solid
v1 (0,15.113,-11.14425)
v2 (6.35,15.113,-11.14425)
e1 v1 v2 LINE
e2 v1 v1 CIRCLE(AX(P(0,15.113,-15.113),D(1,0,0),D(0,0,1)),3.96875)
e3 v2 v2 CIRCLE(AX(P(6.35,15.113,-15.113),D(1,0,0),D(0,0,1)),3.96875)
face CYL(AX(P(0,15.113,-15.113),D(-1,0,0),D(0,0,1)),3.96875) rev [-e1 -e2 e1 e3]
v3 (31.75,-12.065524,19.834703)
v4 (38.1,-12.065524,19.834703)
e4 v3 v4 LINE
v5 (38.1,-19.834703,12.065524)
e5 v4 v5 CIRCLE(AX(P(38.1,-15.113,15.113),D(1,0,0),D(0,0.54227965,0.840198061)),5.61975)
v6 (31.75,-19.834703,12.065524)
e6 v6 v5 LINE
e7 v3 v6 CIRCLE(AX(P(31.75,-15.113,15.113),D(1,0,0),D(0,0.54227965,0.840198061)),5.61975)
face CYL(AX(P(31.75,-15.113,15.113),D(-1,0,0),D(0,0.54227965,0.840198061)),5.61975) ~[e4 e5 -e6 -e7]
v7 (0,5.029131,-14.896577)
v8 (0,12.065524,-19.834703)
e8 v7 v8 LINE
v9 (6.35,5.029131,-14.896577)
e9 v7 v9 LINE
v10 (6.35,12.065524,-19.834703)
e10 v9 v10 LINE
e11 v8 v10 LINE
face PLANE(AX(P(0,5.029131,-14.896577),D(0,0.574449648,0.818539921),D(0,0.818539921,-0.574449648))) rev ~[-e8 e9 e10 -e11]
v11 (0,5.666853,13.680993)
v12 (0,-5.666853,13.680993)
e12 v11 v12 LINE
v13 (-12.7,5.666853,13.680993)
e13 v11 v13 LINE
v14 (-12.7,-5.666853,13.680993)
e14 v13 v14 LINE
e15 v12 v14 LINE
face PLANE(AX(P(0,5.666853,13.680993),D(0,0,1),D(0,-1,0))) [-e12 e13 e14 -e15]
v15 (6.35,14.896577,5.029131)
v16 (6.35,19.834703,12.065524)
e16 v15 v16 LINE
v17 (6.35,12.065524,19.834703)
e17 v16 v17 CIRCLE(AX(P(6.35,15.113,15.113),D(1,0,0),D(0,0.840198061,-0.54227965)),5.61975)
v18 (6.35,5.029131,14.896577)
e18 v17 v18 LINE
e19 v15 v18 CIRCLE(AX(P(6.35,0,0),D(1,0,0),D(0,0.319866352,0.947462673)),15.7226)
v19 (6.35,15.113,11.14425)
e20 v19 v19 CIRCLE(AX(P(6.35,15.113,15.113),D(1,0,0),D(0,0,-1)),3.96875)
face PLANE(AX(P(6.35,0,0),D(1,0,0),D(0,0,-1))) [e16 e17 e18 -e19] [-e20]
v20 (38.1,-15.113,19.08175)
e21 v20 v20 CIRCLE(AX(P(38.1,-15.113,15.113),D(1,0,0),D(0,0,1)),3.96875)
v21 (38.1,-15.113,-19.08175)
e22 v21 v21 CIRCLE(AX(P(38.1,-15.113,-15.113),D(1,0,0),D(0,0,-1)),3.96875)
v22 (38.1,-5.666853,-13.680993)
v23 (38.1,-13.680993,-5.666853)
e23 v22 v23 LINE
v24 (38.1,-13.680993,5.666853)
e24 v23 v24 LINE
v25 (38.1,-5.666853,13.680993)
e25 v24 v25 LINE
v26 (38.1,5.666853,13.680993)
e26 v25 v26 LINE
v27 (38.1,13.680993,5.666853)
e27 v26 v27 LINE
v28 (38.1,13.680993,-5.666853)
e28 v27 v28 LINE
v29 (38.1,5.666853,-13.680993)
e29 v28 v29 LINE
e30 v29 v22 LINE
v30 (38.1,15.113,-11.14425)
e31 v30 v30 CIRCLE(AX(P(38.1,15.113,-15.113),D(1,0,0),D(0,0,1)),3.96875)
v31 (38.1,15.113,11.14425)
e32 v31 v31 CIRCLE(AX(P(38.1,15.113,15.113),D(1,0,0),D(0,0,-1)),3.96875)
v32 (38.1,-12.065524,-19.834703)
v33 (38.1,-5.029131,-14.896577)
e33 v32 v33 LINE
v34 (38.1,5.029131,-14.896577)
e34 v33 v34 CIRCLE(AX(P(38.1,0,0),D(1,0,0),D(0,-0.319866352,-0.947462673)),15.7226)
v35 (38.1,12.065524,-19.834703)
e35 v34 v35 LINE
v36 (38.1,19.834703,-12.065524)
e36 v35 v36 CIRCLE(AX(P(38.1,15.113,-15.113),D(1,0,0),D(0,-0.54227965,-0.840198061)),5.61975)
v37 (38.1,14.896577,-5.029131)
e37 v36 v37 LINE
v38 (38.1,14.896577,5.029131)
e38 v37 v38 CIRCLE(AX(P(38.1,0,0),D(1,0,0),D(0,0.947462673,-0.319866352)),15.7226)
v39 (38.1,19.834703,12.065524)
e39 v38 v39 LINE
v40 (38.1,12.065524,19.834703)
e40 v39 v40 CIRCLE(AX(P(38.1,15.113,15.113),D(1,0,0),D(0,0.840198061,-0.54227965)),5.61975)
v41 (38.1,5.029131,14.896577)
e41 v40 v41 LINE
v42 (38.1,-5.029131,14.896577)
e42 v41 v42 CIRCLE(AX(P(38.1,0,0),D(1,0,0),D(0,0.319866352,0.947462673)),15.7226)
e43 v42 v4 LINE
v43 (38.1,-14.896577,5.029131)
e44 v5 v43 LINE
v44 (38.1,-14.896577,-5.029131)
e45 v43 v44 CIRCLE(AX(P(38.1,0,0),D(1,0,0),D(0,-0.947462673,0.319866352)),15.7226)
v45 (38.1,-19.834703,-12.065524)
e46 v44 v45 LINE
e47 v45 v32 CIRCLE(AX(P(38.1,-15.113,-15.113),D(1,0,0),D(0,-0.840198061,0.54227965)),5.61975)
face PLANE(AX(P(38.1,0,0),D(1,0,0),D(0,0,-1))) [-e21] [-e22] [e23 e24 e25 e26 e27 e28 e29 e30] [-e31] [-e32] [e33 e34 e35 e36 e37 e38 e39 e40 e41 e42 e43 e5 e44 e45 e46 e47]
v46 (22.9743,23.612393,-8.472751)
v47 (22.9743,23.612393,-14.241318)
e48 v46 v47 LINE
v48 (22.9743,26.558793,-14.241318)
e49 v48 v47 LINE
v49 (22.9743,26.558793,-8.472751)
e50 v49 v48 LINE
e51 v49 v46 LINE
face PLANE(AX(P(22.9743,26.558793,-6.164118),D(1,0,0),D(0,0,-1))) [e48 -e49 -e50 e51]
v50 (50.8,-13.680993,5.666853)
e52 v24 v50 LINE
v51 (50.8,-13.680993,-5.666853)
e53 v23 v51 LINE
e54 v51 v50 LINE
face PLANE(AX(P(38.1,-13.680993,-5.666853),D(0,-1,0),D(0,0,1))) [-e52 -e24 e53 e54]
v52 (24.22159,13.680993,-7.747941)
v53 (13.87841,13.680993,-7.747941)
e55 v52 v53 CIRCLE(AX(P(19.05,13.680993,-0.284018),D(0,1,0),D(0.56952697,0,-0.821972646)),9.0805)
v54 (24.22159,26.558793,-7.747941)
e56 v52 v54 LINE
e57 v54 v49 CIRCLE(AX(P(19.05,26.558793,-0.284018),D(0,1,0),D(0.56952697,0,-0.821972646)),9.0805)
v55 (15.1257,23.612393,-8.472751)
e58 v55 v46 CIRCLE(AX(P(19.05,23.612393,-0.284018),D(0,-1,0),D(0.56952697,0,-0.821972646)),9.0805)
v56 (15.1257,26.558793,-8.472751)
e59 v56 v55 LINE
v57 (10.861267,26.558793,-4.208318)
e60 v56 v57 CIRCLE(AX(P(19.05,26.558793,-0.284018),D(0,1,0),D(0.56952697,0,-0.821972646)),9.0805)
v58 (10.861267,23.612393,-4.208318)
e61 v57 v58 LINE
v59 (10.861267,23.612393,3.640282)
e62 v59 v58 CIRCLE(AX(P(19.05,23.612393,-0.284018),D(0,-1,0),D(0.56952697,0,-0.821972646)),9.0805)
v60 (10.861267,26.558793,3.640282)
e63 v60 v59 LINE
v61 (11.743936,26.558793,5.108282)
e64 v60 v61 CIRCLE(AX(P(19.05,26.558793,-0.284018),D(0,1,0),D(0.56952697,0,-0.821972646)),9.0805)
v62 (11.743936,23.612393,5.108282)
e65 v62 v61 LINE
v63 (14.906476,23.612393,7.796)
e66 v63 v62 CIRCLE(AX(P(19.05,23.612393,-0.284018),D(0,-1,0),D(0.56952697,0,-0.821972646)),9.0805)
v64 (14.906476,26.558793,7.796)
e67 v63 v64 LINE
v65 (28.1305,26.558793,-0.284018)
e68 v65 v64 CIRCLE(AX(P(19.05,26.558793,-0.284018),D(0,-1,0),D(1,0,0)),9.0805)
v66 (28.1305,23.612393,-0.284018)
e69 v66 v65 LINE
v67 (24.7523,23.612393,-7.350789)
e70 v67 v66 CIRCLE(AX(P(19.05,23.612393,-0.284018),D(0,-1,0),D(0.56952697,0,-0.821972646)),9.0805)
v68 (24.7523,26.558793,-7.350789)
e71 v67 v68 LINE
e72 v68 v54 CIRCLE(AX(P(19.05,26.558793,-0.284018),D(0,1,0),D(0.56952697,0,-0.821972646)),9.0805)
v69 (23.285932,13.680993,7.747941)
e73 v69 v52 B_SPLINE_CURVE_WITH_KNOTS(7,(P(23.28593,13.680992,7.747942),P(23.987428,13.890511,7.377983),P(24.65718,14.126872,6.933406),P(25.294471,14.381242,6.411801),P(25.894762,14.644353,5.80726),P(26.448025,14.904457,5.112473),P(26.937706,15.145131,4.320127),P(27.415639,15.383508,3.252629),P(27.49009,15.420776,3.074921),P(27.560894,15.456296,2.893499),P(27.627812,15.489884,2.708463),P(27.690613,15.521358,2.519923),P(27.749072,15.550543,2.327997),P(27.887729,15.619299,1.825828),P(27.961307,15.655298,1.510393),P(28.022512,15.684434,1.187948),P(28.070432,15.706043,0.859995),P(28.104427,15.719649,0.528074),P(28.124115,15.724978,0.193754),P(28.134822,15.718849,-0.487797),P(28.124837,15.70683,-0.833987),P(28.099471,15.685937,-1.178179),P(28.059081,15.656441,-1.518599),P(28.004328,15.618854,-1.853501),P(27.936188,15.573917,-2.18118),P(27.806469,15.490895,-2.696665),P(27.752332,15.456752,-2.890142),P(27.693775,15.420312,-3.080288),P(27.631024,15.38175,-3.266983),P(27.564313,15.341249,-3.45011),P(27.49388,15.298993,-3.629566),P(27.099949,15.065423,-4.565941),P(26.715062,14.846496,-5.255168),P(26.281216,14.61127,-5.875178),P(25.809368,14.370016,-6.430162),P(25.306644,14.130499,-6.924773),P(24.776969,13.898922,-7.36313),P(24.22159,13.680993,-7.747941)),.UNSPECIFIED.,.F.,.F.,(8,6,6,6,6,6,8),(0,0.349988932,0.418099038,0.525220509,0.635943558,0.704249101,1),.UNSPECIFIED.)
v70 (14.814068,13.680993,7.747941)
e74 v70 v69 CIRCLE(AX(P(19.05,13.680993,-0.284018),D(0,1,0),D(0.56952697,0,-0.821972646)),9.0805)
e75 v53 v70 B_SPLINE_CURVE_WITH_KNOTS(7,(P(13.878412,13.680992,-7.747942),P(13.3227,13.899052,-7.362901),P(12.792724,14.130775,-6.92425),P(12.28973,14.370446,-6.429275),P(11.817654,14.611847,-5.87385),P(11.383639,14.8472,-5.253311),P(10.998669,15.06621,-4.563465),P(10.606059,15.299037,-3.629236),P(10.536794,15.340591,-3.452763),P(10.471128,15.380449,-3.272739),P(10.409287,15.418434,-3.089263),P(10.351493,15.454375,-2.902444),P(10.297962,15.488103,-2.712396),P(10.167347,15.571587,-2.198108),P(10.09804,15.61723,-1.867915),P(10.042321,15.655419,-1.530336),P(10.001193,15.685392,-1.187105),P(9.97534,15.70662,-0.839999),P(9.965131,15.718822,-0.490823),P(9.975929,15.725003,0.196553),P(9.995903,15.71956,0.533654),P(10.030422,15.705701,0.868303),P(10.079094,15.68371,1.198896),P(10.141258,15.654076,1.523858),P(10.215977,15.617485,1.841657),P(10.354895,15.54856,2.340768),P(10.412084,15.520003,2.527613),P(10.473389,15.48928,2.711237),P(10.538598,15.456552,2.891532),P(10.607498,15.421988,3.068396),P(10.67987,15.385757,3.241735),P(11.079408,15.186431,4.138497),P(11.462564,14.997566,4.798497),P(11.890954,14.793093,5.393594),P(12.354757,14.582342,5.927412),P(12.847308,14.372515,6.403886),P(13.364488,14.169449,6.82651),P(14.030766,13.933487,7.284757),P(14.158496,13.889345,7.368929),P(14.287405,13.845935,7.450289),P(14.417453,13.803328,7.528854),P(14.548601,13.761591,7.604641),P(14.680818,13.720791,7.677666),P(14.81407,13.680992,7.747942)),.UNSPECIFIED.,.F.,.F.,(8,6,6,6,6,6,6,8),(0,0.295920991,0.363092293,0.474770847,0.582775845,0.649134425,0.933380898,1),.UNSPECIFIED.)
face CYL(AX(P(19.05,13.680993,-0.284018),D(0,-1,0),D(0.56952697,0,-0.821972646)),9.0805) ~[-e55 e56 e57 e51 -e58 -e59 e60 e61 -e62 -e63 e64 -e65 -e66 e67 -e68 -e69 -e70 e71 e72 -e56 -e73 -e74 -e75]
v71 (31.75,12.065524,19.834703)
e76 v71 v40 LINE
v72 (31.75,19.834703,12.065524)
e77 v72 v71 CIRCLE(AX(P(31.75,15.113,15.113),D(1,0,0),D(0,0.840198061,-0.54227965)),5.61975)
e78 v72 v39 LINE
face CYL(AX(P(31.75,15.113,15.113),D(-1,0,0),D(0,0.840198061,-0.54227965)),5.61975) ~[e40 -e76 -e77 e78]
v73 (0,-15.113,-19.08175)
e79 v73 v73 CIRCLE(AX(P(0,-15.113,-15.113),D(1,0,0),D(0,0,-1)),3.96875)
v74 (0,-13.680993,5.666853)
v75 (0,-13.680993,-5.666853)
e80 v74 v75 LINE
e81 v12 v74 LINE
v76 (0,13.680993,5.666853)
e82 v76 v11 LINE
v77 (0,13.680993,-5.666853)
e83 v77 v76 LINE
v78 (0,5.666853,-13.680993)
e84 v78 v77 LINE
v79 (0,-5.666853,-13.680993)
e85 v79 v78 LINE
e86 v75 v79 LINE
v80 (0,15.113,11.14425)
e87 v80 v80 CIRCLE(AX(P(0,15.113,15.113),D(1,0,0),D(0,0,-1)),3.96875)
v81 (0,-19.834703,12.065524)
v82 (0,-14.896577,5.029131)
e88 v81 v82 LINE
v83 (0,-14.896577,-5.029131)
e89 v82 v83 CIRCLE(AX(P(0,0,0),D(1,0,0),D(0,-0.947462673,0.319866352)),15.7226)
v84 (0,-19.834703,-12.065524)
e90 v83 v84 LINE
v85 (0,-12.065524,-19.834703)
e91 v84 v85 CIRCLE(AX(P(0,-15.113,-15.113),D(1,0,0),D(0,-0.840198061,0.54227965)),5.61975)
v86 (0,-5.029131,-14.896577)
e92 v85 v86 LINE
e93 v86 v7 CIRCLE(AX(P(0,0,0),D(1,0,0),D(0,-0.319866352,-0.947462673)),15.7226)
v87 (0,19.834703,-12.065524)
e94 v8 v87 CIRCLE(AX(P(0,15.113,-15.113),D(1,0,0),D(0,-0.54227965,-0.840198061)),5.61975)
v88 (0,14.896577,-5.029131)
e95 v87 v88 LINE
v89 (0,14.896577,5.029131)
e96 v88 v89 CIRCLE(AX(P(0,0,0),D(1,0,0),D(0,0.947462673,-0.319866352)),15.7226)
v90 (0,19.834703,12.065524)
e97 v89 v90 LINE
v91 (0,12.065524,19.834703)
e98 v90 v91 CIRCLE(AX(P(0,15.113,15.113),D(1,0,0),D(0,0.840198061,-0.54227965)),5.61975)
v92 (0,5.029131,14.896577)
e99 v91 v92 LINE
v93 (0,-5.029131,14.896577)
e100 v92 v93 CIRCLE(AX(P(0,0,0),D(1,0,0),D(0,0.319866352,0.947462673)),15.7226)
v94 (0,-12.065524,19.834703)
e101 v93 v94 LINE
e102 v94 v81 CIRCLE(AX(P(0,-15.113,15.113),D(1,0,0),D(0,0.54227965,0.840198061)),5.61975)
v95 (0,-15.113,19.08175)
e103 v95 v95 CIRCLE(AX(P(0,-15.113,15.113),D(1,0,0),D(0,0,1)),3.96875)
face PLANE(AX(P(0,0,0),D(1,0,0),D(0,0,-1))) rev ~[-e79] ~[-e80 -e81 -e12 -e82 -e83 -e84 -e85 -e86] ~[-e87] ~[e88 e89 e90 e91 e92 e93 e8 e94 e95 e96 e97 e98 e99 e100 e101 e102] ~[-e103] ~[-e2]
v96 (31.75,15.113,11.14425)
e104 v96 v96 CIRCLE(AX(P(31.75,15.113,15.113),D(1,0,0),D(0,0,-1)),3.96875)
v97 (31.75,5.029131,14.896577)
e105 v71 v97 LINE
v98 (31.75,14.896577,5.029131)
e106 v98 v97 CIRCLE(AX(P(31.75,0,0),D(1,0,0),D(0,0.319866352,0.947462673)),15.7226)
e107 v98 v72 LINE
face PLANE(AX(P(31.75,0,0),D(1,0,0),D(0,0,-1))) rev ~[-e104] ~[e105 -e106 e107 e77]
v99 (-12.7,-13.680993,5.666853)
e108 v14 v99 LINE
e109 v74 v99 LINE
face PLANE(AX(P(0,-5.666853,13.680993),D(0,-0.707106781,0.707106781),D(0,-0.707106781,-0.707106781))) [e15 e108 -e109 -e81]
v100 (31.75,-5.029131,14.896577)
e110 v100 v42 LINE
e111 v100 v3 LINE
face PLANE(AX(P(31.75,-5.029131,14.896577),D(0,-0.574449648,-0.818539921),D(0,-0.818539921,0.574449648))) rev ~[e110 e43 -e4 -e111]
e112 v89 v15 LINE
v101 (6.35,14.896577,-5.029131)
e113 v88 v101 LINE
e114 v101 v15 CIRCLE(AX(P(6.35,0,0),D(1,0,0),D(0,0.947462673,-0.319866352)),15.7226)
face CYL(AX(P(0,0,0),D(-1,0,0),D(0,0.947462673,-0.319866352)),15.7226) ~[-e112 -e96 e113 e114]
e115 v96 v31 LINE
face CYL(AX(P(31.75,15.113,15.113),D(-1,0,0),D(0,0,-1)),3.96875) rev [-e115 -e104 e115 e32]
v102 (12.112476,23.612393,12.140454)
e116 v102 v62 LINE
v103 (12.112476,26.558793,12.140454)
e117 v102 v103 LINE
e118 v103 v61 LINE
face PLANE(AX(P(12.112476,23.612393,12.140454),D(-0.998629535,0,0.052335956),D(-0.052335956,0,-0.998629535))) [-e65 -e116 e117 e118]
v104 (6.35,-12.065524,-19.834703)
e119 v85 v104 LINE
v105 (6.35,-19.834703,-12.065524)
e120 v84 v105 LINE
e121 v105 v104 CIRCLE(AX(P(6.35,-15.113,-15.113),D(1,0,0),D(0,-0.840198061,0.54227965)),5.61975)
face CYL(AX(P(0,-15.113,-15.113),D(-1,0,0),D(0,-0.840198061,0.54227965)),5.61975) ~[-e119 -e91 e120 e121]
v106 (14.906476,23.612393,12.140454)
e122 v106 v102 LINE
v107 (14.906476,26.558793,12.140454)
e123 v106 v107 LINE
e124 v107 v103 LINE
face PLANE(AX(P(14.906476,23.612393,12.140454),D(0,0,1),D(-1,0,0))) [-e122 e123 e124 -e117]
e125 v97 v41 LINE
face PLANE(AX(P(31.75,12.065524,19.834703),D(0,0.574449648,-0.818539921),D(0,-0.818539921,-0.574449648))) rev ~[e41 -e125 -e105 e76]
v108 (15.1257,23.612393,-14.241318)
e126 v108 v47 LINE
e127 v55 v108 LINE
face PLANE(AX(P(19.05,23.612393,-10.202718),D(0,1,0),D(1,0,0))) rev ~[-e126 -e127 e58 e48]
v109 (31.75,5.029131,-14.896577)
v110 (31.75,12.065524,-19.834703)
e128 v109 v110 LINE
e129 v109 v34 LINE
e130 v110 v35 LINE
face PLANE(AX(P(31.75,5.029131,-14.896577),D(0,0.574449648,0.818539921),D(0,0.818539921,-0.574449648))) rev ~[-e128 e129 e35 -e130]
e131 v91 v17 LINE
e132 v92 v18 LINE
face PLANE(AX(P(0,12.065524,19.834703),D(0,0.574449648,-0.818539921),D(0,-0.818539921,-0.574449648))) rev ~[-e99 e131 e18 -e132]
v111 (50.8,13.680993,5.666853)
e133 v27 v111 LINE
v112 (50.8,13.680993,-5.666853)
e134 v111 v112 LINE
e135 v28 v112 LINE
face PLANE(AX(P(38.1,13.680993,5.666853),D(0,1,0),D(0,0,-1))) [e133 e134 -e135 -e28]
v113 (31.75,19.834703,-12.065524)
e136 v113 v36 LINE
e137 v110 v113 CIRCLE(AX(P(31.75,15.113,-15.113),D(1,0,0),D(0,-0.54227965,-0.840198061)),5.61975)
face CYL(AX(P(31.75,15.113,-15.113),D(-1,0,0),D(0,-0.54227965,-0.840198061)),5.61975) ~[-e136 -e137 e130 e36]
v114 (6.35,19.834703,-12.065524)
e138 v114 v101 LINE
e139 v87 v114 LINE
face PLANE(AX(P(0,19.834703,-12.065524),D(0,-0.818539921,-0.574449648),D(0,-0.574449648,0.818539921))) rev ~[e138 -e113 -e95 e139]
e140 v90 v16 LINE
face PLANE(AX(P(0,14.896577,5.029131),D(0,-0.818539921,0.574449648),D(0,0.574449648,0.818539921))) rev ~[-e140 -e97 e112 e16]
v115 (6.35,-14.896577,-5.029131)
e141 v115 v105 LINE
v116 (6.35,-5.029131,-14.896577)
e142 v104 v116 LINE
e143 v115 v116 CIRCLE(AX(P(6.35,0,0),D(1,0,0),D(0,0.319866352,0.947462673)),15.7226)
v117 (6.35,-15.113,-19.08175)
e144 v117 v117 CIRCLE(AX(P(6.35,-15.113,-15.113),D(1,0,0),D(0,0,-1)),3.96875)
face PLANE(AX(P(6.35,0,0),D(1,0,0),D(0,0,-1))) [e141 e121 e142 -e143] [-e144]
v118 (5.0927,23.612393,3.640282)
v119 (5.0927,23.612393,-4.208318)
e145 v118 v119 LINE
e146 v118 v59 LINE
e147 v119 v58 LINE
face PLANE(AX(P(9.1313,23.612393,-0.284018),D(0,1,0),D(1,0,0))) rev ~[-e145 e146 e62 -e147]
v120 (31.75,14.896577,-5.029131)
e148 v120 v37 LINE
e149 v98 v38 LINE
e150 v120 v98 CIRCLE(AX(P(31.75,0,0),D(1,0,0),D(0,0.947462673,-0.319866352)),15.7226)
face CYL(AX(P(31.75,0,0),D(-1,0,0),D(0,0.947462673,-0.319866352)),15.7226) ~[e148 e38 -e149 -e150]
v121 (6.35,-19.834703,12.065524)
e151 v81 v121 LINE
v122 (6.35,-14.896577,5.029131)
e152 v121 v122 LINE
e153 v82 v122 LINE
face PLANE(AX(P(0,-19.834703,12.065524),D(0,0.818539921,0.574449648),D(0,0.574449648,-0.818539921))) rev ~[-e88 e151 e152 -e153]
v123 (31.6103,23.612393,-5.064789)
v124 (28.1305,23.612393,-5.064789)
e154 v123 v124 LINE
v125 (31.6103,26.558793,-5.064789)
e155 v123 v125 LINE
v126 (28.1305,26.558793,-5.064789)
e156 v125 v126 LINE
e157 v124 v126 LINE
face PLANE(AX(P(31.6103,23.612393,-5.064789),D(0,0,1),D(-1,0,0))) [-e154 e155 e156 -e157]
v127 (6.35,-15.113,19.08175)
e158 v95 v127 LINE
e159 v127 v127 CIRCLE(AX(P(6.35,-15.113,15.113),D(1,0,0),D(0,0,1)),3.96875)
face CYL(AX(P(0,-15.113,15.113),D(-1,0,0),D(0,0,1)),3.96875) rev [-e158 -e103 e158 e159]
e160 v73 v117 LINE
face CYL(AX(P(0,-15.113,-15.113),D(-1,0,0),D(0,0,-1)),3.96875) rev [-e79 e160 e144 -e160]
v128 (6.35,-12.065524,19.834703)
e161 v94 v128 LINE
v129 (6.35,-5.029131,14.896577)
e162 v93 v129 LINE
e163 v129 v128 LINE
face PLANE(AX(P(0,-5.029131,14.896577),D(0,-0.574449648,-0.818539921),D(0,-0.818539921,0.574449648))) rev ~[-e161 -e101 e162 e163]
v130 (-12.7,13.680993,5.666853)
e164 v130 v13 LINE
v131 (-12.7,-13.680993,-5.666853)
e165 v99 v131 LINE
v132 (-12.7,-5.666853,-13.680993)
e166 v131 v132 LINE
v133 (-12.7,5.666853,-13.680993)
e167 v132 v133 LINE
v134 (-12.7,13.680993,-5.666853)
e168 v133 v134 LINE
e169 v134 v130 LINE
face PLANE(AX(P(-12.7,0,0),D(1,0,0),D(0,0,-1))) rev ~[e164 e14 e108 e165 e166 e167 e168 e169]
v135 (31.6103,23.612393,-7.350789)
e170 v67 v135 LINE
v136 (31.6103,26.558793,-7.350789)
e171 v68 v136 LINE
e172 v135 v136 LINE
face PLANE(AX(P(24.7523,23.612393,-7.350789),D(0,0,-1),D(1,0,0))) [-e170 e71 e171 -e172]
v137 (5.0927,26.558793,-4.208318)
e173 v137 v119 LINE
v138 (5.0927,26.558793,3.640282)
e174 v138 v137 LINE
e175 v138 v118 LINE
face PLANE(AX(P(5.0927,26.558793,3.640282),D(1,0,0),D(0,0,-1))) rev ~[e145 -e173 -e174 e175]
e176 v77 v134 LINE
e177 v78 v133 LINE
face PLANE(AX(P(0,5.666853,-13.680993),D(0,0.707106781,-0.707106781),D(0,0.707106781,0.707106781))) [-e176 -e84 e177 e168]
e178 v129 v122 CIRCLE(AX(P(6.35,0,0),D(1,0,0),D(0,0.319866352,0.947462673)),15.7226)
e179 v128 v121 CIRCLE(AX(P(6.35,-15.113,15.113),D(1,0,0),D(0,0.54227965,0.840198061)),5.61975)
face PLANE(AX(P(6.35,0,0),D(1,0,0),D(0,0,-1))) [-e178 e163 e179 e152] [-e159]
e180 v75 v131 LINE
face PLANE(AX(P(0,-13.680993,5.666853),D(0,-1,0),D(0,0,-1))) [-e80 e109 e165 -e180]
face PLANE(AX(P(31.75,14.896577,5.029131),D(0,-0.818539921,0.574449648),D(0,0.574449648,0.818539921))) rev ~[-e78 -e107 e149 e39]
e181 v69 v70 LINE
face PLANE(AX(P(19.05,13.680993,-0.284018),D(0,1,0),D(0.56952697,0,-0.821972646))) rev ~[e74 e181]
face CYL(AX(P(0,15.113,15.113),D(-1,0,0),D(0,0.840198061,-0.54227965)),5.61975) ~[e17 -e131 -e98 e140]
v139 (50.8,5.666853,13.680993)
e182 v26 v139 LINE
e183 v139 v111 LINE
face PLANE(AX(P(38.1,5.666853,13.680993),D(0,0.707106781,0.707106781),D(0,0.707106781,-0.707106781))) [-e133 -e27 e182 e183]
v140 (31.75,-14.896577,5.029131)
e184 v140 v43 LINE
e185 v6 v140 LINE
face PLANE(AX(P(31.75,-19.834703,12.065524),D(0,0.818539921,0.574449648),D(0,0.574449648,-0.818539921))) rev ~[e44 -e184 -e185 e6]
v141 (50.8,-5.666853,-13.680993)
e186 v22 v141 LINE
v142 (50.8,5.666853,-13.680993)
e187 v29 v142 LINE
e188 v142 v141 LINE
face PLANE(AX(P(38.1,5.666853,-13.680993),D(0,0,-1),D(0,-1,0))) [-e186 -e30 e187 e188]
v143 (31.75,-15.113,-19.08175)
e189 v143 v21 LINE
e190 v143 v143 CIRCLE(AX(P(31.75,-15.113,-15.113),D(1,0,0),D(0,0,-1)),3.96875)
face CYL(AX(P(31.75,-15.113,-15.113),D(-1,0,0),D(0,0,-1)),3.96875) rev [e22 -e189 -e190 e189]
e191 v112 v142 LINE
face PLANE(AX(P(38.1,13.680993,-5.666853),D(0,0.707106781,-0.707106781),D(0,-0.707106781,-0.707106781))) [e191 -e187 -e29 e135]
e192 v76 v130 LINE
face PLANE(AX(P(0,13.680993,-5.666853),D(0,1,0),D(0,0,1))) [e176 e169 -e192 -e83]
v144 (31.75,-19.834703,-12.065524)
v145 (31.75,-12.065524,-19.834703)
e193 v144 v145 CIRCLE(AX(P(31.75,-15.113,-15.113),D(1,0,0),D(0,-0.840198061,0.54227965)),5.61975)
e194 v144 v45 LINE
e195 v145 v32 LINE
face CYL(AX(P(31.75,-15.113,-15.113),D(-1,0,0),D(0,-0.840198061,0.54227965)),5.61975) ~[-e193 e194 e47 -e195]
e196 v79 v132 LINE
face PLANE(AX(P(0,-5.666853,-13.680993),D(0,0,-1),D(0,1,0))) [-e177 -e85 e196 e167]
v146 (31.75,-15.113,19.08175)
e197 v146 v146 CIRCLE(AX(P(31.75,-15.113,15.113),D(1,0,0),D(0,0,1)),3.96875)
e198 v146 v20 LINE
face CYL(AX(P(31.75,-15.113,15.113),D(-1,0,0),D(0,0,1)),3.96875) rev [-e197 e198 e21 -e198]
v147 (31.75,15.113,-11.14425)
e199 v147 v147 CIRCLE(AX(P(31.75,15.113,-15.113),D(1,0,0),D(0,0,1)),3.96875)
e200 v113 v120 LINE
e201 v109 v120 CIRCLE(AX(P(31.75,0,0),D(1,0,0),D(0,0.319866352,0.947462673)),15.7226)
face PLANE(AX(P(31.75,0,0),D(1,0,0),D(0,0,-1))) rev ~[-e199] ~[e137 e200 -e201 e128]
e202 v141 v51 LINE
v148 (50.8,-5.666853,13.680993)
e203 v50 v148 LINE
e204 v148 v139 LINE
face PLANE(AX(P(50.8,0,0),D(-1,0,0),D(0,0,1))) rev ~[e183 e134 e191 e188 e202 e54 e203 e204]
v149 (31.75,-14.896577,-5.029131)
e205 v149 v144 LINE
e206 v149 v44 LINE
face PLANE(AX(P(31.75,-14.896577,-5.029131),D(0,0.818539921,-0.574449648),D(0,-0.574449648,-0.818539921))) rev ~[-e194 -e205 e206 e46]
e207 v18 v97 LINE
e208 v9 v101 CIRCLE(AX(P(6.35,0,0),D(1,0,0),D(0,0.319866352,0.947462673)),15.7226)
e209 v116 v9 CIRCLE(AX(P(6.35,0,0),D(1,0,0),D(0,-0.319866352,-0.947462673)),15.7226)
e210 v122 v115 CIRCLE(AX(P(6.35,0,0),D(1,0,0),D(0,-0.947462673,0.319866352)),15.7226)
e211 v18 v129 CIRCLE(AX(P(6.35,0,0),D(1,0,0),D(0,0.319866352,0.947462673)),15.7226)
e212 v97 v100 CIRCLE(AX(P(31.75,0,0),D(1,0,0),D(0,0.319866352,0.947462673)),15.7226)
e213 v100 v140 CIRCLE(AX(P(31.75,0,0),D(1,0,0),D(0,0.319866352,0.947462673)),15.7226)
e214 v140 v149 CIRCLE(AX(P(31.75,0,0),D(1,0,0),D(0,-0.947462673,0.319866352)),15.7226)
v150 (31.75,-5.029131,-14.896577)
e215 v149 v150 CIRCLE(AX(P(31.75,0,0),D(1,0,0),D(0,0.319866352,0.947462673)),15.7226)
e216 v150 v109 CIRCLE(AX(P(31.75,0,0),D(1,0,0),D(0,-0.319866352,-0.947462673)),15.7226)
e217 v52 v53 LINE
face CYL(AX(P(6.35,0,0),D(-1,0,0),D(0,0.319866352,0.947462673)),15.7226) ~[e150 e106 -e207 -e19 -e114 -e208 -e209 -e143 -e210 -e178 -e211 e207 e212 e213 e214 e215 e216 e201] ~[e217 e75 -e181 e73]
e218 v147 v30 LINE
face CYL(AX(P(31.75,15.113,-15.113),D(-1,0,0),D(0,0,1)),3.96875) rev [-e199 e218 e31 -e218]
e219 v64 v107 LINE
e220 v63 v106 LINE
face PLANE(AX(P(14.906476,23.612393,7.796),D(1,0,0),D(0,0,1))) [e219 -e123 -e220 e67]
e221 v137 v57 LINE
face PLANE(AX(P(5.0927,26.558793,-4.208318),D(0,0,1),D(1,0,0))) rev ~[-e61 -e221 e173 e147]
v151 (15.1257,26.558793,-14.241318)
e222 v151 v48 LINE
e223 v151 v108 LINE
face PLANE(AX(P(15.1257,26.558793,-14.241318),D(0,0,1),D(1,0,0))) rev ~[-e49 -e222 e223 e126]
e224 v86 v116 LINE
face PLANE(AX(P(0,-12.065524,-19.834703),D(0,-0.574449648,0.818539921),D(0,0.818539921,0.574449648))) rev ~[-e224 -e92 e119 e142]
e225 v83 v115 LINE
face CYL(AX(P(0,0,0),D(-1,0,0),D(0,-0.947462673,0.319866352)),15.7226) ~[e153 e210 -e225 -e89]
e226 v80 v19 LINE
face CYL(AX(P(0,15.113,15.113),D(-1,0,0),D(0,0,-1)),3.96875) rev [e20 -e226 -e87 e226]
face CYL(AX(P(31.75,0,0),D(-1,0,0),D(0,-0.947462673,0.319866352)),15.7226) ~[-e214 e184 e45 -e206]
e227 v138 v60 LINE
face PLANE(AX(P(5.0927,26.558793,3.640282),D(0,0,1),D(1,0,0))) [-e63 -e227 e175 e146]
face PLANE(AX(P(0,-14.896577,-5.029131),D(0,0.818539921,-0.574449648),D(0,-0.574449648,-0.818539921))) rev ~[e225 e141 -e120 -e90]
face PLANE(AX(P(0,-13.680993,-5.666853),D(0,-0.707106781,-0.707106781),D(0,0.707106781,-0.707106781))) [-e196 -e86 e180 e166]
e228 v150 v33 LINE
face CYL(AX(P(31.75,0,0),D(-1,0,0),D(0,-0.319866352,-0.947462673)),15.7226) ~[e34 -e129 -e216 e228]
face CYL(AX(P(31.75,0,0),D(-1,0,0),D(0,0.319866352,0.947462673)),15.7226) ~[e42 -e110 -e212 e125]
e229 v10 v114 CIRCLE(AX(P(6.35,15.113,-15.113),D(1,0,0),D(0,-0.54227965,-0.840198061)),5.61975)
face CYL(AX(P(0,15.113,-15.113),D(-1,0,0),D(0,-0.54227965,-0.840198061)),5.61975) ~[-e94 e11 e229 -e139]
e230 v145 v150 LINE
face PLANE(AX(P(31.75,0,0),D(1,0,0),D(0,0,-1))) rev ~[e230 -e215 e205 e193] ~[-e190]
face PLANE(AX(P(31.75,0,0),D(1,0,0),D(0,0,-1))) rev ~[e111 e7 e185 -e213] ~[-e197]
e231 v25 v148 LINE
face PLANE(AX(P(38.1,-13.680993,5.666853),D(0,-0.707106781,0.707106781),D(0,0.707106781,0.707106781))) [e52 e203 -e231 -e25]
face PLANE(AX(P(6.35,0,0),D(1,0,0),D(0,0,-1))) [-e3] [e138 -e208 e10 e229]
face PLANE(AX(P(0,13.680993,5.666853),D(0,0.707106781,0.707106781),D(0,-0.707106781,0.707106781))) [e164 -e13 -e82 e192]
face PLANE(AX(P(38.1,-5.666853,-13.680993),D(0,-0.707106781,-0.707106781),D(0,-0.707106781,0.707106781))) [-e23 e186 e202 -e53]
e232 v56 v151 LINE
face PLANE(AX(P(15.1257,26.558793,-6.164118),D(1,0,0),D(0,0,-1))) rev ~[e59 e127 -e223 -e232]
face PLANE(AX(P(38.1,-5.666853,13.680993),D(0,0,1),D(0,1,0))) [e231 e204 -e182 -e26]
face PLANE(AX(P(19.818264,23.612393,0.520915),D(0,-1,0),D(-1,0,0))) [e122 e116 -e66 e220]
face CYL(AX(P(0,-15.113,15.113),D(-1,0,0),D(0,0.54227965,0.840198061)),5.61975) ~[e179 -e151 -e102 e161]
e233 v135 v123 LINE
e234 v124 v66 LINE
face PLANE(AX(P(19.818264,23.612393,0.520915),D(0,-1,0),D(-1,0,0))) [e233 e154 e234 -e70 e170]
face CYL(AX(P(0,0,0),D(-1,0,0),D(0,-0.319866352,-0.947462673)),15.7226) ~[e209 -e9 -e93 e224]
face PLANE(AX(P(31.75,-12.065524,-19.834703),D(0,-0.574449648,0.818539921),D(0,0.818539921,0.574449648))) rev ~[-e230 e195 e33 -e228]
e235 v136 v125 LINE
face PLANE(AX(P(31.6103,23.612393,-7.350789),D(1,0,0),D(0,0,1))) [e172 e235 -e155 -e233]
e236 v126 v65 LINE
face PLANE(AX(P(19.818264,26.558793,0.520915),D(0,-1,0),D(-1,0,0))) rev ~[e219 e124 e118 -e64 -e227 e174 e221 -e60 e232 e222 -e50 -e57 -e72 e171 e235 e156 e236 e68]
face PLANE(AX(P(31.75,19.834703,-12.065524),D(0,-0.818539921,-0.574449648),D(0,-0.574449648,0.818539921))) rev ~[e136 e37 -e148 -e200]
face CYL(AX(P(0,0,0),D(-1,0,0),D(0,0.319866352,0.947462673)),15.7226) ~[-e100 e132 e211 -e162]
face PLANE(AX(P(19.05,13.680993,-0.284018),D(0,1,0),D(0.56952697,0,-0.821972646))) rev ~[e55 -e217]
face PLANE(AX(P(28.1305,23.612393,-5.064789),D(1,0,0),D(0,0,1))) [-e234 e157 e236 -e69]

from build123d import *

# Parameters (mm, degrees)
SKETCH1_R            = 3.96875
BOSS_EXTRUDE2_DEPTH  = 6.35
BOSS_EXTRUDE3_DEPTH  = 12.7
SKETCH3_R            = 15.7226
BOSS_EXTRUDE4_DEPTH  = 25.4
SKETCH4_R            = 3.96875
BOSS_EXTRUDE5_DEPTH  = 6.35
BOSS_EXTRUDE6_DEPTH  = 12.7
SKETCH6_R            = 9.0805
BOSS_EXTRUDE8_DEPTH  = 12.8778
SKETCH8_W            = 7.8486
SKETCH8_H            = 8.0772
SKETCH8_W_2          = 8.0772
SKETCH8_H_2          = 7.8486
BOSS_EXTRUDE9_DEPTH  = 2.9464
BOSS_EXTRUDE10_START = -2.9464
BOSS_EXTRUDE10_DEPTH = 2.9464


with BuildPart() as part:
    # Sketch1 → Boss-Extrude2 (new body)
    with BuildSketch(Plane(origin=(0, 0, 0), x_dir=(0, 0, -1), z_dir=(1, 0, 0))):
        with BuildLine():
            Line((-19.834703053, 12.065523939), (-14.896576623, 5.029130709))
            ThreePointArc((-14.896576623, 5.029130709), (-15.7226, 0), (-14.896576623, -5.029130709))
            Line((-14.896576623, -5.029130709), (-19.834703053, -12.065523939))
            ThreePointArc((-19.834703053, -12.065523939), (-19.086763334, -19.086763334), (-12.065523939, -19.834703053))
            Line((-12.065523939, -19.834703053), (-5.029130709, -14.896576623))
            ThreePointArc((-5.029130709, -14.896576623), (0, -15.7226), (5.029130709, -14.896576623))
            Line((5.029130709, -14.896576623), (12.065523939, -19.834703053))
            ThreePointArc((12.065523939, -19.834703053), (19.086763334, -19.086763334), (19.834703053, -12.065523939))
            Line((19.834703053, -12.065523939), (14.896576623, -5.029130709))
            ThreePointArc((14.896576623, -5.029130709), (15.7226, 0), (14.896576623, 5.029130709))
            Line((14.896576623, 5.029130709), (19.834703053, 12.065523939))
            ThreePointArc((19.834703053, 12.065523939), (19.086763334, 19.086763334), (12.065523939, 19.834703053))
            Line((12.065523939, 19.834703053), (5.029130709, 14.896576623))
            ThreePointArc((5.029130709, 14.896576623), (0, 15.7226), (-5.029130709, 14.896576623))
            Line((-5.029130709, 14.896576623), (-12.065523939, 19.834703053))
            ThreePointArc((-12.065523939, 19.834703053), (-19.086763334, 19.086763334), (-19.834703053, 12.065523939))
        make_face()
        with Locations((-15.113, 15.113)):
            Circle(SKETCH1_R, mode=Mode.SUBTRACT)
        with Locations(Location((15.113, 15.113, 0), (0, 0, 180))):
            Circle(SKETCH1_R, mode=Mode.SUBTRACT)
        with Locations((15.113, -15.113)):
            Circle(SKETCH1_R, mode=Mode.SUBTRACT)
        with Locations(Location((-15.113, -15.113, 0), (0, 0, 180))):
            Circle(SKETCH1_R, mode=Mode.SUBTRACT)
    extrude(amount=BOSS_EXTRUDE2_DEPTH)

    # Sketch2 → Boss-Extrude3 (add)
    with BuildSketch(Plane.ZY):
        Polygon((13.680992893, 5.666852803), (13.680992893, -5.666852803), (5.666852803, -13.680992893), (-5.666852803, -13.680992893), (-13.680992893, -5.666852803), (-13.680992893, 5.666852803), (-5.666852803, 13.680992893), (5.666852803, 13.680992893), align=None)
    extrude(amount=BOSS_EXTRUDE3_DEPTH)

    # Sketch3 → Boss-Extrude4 (add)
    with BuildSketch(Plane(origin=(6.35, 0, 0), x_dir=(0, 0, -1), z_dir=(1, 0, 0))):
        with Locations(Location((0, 0, 0), (0, 0, 161.345157372))):
            Circle(SKETCH3_R)
    extrude(amount=BOSS_EXTRUDE4_DEPTH)

    # Sketch4 → Boss-Extrude5 (add)
    with BuildSketch(Plane(origin=(31.75, 0, 0), x_dir=(0, 0, -1), z_dir=(1, 0, 0))):
        with BuildLine():
            Line((-19.834703053, 12.065523939), (-14.896576623, 5.029130709))
            ThreePointArc((-14.896576623, 5.029130709), (-15.7226, 0), (-14.896576623, -5.029130709))
            Line((-14.896576623, -5.029130709), (-19.834703053, -12.065523939))
            ThreePointArc((-19.834703053, -12.065523939), (-19.086763334, -19.086763334), (-12.065523939, -19.834703053))
            Line((-12.065523939, -19.834703053), (-5.029130709, -14.896576623))
            ThreePointArc((-5.029130709, -14.896576623), (0, -15.7226), (5.029130709, -14.896576623))
            Line((5.029130709, -14.896576623), (12.065523939, -19.834703053))
            ThreePointArc((12.065523939, -19.834703053), (19.086763334, -19.086763334), (19.834703053, -12.065523939))
            Line((19.834703053, -12.065523939), (14.896576623, -5.029130709))
            ThreePointArc((14.896576623, -5.029130709), (15.7226, 0), (14.896576623, 5.029130709))
            Line((14.896576623, 5.029130709), (19.834703053, 12.065523939))
            ThreePointArc((19.834703053, 12.065523939), (19.086763334, 19.086763334), (12.065523939, 19.834703053))
            Line((12.065523939, 19.834703053), (5.029130709, 14.896576623))
            ThreePointArc((5.029130709, 14.896576623), (0, 15.7226), (-5.029130709, 14.896576623))
            Line((-5.029130709, 14.896576623), (-12.065523939, 19.834703053))
            ThreePointArc((-12.065523939, 19.834703053), (-19.086763334, 19.086763334), (-19.834703053, 12.065523939))
        make_face()
        with Locations((-15.113, 15.113)):
            Circle(SKETCH4_R, mode=Mode.SUBTRACT)
        with Locations(Location((15.113, 15.113, 0), (0, 0, 180))):
            Circle(SKETCH4_R, mode=Mode.SUBTRACT)
        with Locations((15.113, -15.113)):
            Circle(SKETCH4_R, mode=Mode.SUBTRACT)
        with Locations(Location((-15.113, -15.113, 0), (0, 0, 180))):
            Circle(SKETCH4_R, mode=Mode.SUBTRACT)
    extrude(amount=BOSS_EXTRUDE5_DEPTH)

    # Sketch5 → Boss-Extrude6 (add)
    with BuildSketch(Plane(origin=(38.1, 0, 0), x_dir=(0, 0, -1), z_dir=(1, 0, 0))):
        Polygon((13.680992893, 5.666852803), (13.680992893, -5.666852803), (5.666852803, -13.680992893), (-5.666852803, -13.680992893), (-13.680992893, -5.666852803), (-13.680992893, 5.666852803), (-5.666852803, 13.680992893), (5.666852803, 13.680992893), align=None)
    extrude(amount=BOSS_EXTRUDE6_DEPTH)

    # Sketch6 → Boss-Extrude8 (add)
    with BuildSketch(Plane(origin=(0, 13.680992893, 0), x_dir=(1, 0, 0), z_dir=(0, 1, 0))):
        with Locations(Location((19.05, 0.284018035, 0), (0, 0, 55.282753466))):
            Circle(SKETCH6_R)
    extrude(amount=BOSS_EXTRUDE8_DEPTH)

    # Sketch8 → Boss-Extrude9 (add)
    with BuildSketch(Plane(origin=(0, 26.558792893, 0), x_dir=(1, 0, 0), z_dir=(0, 1, 0))):
        with Locations((19.05, 10.202718035)):
            Rectangle(SKETCH8_W, SKETCH8_H)
        with Locations((9.1313, 0.284018035)):
            Rectangle(SKETCH8_W_2, SKETCH8_H_2)
    extrude(amount=-BOSS_EXTRUDE9_DEPTH)

    # Sketch10 → Boss-Extrude10 (add)
    with BuildSketch(Plane(origin=(0, 26.558792893, 0), x_dir=(1, 0, 0), z_dir=(0, 1, 0)).offset(BOSS_EXTRUDE10_START)):
        with BuildLine():
            Line((24.7523, 7.350789218), (31.6103, 7.350789218))
            Line((31.6103, 7.350789218), (31.6103, 5.064789218))
            Line((31.6103, 5.064789218), (28.1305, 5.064789218))
            Line((28.1305, 5.064789218), (28.1305, 0.284018035))
            ThreePointArc((28.1305, 0.284018035), (23.784459378, -7.464554392), (14.90647607, -7.795999892))
            Line((14.90647607, -7.795999892), (14.90647607, -12.140453608))
            Line((14.90647607, -12.140453608), (12.11247607, -12.140453608))
            Line((12.11247607, -12.140453608), (11.743935589, -5.108282316))
            ThreePointArc((11.743935589, -5.108282316), (12.769066077, 6.841864427), (24.7523, 7.350789218))
        make_face()
    extrude(amount=BOSS_EXTRUDE10_DEPTH)


solid = part.part
